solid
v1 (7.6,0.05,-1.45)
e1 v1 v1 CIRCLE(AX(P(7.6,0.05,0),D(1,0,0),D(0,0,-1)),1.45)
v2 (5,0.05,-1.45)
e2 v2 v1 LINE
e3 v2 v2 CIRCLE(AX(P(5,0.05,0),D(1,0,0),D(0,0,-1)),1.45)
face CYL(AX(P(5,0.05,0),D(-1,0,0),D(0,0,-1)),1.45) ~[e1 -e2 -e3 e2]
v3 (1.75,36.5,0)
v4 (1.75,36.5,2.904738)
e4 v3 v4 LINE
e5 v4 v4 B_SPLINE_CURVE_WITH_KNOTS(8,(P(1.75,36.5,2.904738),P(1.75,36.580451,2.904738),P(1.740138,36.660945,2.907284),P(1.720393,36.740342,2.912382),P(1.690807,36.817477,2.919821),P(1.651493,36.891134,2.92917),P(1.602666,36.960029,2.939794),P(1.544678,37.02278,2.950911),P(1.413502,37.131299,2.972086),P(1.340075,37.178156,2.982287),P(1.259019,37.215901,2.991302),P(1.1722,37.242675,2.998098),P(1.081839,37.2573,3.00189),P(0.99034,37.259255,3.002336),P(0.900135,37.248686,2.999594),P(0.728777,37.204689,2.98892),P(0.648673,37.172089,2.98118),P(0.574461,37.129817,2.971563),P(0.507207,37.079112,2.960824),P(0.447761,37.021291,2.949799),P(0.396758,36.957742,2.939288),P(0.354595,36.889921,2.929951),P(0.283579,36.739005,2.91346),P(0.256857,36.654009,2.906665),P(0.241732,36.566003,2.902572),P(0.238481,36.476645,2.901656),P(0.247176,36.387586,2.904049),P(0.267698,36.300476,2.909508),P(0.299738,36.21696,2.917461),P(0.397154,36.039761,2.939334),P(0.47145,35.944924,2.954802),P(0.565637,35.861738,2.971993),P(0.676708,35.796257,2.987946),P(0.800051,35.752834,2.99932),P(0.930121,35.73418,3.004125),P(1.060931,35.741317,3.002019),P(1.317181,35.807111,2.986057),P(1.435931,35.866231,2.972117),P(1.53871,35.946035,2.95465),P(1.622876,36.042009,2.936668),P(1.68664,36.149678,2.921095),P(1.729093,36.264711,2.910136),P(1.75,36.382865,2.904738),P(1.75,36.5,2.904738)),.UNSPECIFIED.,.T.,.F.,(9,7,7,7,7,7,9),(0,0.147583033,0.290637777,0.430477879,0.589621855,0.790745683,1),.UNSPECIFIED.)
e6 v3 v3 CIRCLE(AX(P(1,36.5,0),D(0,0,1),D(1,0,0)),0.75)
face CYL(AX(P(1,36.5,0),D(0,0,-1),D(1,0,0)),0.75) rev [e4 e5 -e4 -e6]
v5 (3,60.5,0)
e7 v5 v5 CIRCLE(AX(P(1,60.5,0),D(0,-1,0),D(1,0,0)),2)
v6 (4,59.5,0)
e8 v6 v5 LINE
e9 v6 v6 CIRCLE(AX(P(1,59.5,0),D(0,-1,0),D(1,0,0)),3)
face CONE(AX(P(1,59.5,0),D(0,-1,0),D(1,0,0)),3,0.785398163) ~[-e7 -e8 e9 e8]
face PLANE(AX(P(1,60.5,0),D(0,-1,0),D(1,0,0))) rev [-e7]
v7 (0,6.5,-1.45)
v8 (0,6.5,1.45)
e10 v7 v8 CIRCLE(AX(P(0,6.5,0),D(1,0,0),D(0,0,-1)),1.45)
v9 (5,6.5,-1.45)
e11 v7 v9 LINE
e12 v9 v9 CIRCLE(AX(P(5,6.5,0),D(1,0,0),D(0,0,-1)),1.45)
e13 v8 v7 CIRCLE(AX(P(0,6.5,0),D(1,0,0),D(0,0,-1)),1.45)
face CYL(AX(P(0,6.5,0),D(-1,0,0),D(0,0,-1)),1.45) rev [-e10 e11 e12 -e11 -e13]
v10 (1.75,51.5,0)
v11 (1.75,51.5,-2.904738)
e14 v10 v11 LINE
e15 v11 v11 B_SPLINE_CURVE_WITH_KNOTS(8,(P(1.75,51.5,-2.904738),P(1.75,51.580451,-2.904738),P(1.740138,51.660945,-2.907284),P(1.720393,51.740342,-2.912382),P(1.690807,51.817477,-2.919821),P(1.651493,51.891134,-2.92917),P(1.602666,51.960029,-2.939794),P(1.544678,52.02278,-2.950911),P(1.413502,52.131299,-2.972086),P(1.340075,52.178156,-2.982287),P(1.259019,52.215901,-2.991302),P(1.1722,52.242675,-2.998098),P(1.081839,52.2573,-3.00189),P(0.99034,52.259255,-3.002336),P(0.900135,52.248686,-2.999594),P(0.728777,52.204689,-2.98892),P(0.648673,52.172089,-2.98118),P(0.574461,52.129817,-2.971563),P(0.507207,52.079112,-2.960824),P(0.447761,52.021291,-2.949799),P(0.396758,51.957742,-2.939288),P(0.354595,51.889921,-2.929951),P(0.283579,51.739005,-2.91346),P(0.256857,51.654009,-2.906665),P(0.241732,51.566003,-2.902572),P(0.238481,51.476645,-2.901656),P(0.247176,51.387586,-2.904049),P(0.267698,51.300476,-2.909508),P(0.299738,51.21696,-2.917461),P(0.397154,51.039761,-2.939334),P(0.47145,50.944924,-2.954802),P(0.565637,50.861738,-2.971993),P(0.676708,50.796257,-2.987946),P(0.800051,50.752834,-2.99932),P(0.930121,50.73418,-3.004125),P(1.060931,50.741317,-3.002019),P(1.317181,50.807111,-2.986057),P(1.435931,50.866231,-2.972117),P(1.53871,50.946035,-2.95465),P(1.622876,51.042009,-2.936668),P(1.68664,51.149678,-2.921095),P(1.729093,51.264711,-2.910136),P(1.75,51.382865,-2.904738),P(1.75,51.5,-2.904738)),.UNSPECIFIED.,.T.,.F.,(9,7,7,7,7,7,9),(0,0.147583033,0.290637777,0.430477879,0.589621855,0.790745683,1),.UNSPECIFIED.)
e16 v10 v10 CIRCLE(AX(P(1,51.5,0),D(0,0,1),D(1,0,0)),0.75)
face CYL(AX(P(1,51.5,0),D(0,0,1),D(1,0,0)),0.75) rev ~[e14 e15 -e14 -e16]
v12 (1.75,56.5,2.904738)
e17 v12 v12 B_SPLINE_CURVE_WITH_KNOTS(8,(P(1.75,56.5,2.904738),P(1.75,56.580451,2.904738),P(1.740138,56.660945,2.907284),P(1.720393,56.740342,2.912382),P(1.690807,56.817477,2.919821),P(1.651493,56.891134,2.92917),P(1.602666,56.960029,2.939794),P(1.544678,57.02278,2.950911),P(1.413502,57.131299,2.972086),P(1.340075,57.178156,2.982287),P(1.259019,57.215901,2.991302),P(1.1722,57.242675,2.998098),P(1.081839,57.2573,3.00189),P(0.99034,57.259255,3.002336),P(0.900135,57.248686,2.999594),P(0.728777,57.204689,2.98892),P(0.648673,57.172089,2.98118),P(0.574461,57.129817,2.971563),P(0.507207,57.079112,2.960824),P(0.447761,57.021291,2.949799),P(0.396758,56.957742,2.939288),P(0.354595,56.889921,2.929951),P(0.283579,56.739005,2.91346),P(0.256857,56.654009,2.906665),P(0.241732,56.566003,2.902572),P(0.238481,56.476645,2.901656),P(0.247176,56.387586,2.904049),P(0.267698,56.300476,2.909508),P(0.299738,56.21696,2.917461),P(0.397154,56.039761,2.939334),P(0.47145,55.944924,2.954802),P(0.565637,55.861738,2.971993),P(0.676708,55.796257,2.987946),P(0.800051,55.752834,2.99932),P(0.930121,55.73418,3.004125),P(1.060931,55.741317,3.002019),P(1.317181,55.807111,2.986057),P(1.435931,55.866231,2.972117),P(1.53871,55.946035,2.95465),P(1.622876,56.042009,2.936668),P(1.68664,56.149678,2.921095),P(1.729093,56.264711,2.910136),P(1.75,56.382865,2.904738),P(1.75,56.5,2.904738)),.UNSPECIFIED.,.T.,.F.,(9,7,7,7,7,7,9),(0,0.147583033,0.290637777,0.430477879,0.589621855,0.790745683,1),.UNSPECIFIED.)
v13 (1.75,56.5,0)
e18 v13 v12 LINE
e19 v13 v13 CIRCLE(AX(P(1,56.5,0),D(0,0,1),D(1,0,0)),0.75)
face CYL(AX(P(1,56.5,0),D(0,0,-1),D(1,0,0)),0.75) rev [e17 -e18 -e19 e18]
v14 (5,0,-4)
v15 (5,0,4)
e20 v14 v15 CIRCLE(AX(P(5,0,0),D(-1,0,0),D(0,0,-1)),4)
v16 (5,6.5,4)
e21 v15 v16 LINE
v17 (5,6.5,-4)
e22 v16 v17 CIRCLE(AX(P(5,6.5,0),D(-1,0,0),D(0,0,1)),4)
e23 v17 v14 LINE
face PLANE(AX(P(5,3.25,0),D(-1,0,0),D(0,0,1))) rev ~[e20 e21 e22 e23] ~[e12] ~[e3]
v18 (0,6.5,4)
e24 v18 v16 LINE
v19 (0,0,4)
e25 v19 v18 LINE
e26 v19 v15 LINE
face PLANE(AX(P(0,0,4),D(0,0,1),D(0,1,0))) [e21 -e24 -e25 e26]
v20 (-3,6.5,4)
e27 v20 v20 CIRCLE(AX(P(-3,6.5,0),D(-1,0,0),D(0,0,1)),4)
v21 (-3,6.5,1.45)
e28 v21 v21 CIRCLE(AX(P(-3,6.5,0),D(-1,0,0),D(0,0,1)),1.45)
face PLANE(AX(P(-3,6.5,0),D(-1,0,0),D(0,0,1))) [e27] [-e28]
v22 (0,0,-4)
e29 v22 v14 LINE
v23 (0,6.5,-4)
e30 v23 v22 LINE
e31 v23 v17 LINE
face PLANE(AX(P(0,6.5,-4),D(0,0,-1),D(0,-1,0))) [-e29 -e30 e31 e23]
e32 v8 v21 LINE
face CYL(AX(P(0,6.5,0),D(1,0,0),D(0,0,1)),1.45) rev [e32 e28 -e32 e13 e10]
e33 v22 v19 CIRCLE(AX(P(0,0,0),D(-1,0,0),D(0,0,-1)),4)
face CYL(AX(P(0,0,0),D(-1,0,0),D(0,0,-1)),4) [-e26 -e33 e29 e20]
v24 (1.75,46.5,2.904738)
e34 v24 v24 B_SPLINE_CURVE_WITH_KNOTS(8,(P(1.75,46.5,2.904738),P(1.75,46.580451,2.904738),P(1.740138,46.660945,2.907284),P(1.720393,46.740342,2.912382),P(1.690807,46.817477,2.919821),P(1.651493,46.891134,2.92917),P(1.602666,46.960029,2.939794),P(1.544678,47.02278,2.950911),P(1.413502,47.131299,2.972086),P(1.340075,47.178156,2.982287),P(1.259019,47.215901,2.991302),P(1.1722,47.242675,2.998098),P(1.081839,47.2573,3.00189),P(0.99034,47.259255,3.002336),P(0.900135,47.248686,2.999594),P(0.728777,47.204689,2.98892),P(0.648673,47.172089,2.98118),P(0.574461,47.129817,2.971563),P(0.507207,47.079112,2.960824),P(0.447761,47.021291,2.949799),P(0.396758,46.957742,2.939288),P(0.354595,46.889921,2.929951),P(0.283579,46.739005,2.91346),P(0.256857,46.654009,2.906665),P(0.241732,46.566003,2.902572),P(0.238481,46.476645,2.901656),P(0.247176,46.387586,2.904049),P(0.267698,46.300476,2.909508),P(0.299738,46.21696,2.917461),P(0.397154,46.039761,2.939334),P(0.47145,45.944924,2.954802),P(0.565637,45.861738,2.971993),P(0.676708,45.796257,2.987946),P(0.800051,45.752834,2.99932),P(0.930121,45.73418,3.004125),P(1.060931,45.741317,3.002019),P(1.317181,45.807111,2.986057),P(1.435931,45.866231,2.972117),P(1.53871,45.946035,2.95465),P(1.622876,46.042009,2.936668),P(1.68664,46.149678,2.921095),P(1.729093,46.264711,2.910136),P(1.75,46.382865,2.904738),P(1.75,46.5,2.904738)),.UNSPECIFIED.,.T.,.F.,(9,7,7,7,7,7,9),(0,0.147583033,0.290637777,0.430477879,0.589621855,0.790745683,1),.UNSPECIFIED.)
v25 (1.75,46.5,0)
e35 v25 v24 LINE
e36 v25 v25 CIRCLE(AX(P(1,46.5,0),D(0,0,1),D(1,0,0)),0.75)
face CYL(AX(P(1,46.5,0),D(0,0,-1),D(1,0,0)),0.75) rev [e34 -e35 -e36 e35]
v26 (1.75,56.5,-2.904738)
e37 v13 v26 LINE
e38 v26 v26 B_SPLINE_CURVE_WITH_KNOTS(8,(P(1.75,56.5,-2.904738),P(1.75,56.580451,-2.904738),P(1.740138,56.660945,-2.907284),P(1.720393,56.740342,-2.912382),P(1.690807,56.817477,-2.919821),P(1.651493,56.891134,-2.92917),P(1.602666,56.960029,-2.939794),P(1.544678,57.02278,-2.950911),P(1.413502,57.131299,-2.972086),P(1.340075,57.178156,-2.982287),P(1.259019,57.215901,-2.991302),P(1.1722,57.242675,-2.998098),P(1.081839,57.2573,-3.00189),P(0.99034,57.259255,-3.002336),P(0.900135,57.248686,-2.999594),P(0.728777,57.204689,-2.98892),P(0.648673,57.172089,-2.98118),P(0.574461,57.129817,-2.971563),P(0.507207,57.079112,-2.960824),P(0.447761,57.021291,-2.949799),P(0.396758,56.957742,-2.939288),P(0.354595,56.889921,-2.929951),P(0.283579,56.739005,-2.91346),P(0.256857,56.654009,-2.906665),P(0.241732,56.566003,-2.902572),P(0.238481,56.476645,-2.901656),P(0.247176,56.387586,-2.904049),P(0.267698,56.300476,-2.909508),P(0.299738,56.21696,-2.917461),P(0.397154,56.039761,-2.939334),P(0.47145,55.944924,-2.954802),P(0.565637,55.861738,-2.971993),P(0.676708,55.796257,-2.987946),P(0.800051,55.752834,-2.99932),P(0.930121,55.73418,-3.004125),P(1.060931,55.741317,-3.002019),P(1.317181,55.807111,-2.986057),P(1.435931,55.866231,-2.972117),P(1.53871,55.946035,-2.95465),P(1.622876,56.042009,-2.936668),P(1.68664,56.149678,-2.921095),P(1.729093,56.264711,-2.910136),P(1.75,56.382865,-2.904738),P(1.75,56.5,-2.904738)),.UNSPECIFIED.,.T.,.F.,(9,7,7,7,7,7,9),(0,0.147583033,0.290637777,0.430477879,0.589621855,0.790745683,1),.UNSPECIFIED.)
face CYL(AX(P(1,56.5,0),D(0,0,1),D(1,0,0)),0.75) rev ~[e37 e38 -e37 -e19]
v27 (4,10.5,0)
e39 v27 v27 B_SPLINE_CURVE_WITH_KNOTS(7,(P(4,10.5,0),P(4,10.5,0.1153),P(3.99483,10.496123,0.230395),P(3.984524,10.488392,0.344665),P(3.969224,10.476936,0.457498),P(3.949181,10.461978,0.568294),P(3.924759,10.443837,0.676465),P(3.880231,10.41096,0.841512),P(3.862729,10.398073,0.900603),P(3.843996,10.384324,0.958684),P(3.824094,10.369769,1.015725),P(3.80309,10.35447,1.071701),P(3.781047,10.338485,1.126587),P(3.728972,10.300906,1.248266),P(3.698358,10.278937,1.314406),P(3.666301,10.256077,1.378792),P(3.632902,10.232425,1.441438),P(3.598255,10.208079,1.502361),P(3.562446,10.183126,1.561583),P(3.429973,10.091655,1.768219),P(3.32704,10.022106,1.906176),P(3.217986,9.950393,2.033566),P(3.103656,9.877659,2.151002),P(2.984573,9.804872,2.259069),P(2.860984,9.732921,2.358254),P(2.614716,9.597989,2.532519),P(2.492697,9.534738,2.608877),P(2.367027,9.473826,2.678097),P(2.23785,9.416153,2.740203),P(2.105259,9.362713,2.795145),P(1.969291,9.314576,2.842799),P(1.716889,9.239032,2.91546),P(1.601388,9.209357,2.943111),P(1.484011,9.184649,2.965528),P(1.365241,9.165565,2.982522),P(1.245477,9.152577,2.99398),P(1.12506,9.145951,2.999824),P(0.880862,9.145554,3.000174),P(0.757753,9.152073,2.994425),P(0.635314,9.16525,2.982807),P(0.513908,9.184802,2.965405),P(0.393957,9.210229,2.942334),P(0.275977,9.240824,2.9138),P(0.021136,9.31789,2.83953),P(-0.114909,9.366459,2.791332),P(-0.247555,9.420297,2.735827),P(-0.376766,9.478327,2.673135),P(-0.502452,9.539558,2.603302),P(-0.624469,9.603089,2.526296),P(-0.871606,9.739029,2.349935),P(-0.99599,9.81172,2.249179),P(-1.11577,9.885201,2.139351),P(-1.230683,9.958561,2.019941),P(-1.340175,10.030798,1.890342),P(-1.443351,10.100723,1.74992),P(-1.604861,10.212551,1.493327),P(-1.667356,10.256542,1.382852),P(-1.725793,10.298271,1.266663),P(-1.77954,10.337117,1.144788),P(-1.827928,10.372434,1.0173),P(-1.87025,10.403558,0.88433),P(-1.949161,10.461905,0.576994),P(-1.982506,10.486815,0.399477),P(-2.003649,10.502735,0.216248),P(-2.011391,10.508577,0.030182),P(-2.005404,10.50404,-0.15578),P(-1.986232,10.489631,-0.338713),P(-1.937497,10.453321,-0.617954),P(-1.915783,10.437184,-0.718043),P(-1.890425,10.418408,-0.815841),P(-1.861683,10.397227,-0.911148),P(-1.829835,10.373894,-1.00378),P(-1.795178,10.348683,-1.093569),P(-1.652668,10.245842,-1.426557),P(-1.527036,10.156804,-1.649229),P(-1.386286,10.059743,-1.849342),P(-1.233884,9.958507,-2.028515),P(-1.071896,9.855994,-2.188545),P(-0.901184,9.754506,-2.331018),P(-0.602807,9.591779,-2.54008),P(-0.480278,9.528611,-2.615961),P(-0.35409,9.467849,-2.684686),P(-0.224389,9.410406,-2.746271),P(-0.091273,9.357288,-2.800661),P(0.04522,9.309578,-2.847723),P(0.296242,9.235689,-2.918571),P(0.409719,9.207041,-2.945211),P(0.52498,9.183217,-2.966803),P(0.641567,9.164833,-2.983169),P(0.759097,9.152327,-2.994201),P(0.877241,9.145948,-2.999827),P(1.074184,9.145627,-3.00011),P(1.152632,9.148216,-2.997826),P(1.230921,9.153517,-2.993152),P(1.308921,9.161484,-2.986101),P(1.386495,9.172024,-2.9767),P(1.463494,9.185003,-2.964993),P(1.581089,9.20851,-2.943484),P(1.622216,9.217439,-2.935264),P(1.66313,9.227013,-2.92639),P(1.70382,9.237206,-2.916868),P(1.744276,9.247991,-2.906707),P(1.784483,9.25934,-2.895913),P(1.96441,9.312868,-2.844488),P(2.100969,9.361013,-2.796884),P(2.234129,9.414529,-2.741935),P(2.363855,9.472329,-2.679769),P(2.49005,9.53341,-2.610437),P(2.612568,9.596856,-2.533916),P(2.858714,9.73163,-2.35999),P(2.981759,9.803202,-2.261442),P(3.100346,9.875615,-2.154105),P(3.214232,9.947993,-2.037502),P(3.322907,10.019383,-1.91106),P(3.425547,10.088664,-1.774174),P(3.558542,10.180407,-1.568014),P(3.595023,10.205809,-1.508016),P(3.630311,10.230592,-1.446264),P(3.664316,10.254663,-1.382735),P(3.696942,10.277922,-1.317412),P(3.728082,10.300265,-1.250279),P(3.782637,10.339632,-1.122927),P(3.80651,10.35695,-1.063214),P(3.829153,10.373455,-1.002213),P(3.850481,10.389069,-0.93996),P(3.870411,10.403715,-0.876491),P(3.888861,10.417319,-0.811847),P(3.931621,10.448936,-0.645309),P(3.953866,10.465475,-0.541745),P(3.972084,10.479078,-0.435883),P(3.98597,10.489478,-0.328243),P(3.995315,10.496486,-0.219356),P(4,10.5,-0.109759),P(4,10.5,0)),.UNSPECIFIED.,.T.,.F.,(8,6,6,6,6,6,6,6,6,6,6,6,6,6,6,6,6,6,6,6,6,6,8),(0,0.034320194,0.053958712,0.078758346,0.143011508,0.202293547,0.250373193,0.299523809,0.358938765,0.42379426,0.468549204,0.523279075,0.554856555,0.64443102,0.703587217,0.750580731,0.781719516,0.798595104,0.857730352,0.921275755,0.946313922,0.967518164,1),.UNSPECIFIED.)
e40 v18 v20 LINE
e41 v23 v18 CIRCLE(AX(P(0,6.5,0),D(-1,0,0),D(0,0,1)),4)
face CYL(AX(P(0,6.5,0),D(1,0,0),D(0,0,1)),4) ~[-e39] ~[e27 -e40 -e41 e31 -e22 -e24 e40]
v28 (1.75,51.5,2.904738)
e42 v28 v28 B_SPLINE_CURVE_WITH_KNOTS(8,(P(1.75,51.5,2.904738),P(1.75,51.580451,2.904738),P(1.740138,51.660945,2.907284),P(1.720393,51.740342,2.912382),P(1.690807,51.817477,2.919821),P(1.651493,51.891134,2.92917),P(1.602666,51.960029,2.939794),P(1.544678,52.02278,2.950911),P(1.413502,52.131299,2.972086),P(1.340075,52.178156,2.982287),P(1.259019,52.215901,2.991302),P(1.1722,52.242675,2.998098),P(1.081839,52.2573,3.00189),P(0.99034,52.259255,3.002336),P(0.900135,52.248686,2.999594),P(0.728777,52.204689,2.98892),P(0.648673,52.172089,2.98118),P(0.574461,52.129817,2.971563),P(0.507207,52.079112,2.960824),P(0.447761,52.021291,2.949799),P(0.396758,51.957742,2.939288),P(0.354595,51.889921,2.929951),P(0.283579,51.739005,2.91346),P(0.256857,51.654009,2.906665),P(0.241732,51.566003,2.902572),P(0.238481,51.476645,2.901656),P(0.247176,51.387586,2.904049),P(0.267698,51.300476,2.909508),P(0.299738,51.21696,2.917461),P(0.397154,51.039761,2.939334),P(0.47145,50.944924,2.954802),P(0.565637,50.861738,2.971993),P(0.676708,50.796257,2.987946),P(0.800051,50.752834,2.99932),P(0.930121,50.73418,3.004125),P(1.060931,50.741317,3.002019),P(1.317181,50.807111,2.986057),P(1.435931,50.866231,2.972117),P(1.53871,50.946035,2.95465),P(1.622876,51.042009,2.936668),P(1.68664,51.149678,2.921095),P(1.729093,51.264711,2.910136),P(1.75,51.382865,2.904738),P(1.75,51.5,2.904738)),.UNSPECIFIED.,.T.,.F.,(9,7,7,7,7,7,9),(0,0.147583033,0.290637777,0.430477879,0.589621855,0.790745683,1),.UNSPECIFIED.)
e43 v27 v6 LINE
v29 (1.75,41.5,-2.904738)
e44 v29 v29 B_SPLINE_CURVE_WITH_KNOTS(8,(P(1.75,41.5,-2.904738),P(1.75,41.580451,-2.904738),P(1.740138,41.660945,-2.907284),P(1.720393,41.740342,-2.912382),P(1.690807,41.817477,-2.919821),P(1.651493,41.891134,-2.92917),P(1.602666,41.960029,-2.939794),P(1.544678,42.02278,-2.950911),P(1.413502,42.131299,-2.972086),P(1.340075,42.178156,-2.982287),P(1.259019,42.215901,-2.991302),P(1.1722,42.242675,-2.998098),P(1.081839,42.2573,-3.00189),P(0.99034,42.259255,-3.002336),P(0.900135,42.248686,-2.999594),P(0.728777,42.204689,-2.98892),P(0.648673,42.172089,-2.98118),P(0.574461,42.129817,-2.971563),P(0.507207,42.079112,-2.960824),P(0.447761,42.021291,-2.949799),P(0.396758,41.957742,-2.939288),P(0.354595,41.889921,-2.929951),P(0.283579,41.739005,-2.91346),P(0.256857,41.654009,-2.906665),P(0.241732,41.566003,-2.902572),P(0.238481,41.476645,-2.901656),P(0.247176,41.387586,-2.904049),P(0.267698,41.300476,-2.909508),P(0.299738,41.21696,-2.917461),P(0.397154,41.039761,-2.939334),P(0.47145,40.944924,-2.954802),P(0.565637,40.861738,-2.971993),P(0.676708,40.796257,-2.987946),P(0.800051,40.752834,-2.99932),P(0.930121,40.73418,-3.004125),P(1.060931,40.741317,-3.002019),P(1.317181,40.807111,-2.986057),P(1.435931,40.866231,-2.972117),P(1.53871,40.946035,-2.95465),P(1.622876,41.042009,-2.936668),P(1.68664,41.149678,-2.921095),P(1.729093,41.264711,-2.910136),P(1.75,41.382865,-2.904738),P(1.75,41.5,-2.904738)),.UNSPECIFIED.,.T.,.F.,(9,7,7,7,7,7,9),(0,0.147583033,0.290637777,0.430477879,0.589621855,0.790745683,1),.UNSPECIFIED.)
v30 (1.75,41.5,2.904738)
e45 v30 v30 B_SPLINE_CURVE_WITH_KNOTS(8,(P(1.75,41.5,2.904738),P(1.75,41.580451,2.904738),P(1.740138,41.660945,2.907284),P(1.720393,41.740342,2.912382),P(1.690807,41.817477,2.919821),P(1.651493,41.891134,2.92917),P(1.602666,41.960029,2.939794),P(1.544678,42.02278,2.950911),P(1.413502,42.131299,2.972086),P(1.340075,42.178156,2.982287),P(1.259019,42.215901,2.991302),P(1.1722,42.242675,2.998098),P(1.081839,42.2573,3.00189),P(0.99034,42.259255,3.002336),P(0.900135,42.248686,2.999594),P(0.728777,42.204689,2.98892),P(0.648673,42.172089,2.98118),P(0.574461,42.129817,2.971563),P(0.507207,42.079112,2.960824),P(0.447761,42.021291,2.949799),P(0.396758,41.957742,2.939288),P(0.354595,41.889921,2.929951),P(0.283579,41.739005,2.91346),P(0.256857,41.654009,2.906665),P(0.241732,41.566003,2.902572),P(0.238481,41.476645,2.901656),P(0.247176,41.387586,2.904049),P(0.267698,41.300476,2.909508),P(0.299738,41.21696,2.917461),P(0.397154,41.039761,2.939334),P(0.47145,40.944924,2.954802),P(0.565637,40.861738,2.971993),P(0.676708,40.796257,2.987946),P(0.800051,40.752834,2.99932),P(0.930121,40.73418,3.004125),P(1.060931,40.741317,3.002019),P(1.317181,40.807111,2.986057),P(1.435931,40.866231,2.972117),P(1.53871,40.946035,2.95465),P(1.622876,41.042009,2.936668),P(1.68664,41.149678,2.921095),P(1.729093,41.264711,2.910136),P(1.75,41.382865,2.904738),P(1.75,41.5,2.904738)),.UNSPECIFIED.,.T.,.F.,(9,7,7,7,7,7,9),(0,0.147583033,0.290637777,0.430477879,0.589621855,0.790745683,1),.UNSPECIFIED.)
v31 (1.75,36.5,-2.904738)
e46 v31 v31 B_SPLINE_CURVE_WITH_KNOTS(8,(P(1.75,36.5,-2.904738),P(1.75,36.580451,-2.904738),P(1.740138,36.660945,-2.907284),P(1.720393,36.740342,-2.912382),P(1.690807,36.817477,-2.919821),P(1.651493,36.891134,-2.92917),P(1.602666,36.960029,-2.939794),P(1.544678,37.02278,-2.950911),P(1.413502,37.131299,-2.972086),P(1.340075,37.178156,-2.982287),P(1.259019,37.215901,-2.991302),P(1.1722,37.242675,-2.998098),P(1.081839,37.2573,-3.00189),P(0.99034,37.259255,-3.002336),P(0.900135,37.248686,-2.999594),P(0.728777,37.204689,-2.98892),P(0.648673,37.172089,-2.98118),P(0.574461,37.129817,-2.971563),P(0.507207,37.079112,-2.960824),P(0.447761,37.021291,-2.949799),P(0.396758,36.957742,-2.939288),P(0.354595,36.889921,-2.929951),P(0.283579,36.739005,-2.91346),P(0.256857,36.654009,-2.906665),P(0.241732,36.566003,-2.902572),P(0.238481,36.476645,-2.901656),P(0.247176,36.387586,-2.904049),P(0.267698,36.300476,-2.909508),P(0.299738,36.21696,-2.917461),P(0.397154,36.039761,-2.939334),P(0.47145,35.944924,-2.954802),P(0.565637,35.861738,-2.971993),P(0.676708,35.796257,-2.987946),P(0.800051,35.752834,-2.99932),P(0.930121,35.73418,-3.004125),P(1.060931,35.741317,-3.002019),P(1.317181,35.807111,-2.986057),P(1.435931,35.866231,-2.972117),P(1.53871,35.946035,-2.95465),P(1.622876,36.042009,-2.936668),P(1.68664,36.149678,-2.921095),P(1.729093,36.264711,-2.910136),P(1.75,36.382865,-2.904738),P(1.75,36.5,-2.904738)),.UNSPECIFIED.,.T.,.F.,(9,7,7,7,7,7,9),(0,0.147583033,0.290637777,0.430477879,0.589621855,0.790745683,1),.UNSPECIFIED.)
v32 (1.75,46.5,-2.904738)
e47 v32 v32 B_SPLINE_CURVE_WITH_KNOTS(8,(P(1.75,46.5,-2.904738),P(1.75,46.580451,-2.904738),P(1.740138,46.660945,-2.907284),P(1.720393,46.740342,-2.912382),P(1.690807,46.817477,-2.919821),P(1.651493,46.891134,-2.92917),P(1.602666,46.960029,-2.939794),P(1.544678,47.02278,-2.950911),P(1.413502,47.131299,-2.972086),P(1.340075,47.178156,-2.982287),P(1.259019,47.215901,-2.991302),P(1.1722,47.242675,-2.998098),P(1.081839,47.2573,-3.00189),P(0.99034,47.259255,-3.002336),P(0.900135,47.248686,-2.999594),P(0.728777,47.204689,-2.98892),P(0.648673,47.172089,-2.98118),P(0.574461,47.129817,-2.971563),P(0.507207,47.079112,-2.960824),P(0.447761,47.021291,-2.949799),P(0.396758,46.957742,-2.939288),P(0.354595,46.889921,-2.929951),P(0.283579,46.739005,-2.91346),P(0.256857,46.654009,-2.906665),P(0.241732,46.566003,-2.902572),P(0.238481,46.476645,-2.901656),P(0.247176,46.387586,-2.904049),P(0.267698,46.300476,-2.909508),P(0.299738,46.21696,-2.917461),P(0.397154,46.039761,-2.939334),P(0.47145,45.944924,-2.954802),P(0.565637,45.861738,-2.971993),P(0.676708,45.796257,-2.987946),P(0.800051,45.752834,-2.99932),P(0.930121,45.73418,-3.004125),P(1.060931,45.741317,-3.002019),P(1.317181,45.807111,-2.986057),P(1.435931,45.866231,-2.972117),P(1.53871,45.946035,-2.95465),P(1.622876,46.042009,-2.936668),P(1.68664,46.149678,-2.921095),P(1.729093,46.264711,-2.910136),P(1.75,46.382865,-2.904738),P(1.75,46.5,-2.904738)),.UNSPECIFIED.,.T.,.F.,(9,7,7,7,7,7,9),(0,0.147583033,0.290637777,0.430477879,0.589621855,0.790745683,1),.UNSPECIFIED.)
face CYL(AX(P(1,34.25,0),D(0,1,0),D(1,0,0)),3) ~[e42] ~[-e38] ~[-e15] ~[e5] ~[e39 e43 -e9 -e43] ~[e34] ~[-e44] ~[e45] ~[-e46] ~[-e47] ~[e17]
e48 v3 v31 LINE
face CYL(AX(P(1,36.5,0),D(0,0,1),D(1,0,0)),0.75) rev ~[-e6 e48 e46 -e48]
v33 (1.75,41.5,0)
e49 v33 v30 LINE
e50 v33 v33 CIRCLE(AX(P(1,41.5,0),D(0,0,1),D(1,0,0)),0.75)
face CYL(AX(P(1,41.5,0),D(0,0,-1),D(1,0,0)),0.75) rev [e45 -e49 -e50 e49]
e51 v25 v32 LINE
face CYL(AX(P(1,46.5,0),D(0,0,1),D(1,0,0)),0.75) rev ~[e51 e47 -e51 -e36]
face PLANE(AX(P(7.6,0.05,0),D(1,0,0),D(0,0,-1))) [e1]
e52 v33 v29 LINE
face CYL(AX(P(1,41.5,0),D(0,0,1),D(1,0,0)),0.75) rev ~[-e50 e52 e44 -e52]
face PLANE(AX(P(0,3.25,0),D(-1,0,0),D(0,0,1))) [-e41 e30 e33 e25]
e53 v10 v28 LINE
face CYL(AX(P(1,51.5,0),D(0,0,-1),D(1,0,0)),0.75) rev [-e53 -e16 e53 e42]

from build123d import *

# Parameters (mm, degrees)
SKETCH1_R               = 1.45
BOSS_EXTRUDE1_DEPTH     = 5
SKETCH2_R               = 1.45
BOSS_EXTRUDE2_DEPTH     = 2.6
SKETCH3_R               = 1.45
BOSS_EXTRUDE3_DEPTH     = 3
SKETCH5_W               = 3
SKETCH5_H               = 52.5
CHAMFER1_SIZE           = 1
SKETCH6_R               = 0.75
CUT_EXTRUDE1_DEPTH      = 5.0000001
CUT_EXTRUDE1_DEPTH_BACK = 5.0000001


with BuildPart() as part:
    # Sketch1 → Boss-Extrude1 (new body)
    with BuildSketch(Plane(origin=(0, 0, 0), x_dir=(0, 0, -1), z_dir=(1, 0, 0))):
        with BuildLine():
            Line((-4, 0), (-4, 6.5))
            ThreePointArc((-4, 6.5), (0, 10.5), (4, 6.5))
            Line((4, 6.5), (4, 0))
            ThreePointArc((4, 0), (0, -4), (-4, 0))
        make_face()
        with Locations((0, 6.5)):
            Circle(SKETCH1_R, mode=Mode.SUBTRACT)
    extrude(amount=BOSS_EXTRUDE1_DEPTH)

    # Sketch2 → Boss-Extrude2 (add)
    with BuildSketch(Plane(origin=(5, 0, 0), x_dir=(0, 0, -1), z_dir=(1, 0, 0))):
        with Locations((0, 0.05)):
            Circle(SKETCH2_R)
    extrude(amount=BOSS_EXTRUDE2_DEPTH)

    # Sketch3 → Boss-Extrude3 (add)
    with BuildSketch(Plane.ZY):
        with BuildLine():
            ThreePointArc((-4, 6.5), (0, 2.5), (4, 6.5))
            ThreePointArc((4, 6.5), (0, 10.5), (-4, 6.5))
        make_face()
        with Locations((0, 6.5)):
            Circle(SKETCH3_R, mode=Mode.SUBTRACT)
    extrude(amount=BOSS_EXTRUDE3_DEPTH)

    # Sketch5 → Revolve2 (revolve)
    with BuildSketch(Plane.XY):
        with Locations((2.5, 34.25)):
            Rectangle(SKETCH5_W, SKETCH5_H)
    revolve(axis=Axis((1, 60.5, 0), (0, -1, 0)))

    # Chamfer1
    chamfer1_edges = [part.edges().sort_by_distance(p)[0] for p in [
        (-2, 60.5, 0),
    ]]
    chamfer(chamfer1_edges, length=CHAMFER1_SIZE)

    # Sketch6 → Cut-Extrude1 (cut, two sides)
    with BuildSketch(Plane.XY) as cut_extrude1_sk:
        with Locations((1, 56.5)):
            Circle(SKETCH6_R)
        with Locations((1, 51.5)):
            Circle(SKETCH6_R)
        with Locations((1, 46.5)):
            Circle(SKETCH6_R)
        with Locations((1, 41.5)):
            Circle(SKETCH6_R)
        with Locations((1, 36.5)):
            Circle(SKETCH6_R)
    extrude(amount=CUT_EXTRUDE1_DEPTH, mode=Mode.SUBTRACT)
    extrude(cut_extrude1_sk.sketch, amount=-CUT_EXTRUDE1_DEPTH_BACK, mode=Mode.SUBTRACT)


solid = part.part
